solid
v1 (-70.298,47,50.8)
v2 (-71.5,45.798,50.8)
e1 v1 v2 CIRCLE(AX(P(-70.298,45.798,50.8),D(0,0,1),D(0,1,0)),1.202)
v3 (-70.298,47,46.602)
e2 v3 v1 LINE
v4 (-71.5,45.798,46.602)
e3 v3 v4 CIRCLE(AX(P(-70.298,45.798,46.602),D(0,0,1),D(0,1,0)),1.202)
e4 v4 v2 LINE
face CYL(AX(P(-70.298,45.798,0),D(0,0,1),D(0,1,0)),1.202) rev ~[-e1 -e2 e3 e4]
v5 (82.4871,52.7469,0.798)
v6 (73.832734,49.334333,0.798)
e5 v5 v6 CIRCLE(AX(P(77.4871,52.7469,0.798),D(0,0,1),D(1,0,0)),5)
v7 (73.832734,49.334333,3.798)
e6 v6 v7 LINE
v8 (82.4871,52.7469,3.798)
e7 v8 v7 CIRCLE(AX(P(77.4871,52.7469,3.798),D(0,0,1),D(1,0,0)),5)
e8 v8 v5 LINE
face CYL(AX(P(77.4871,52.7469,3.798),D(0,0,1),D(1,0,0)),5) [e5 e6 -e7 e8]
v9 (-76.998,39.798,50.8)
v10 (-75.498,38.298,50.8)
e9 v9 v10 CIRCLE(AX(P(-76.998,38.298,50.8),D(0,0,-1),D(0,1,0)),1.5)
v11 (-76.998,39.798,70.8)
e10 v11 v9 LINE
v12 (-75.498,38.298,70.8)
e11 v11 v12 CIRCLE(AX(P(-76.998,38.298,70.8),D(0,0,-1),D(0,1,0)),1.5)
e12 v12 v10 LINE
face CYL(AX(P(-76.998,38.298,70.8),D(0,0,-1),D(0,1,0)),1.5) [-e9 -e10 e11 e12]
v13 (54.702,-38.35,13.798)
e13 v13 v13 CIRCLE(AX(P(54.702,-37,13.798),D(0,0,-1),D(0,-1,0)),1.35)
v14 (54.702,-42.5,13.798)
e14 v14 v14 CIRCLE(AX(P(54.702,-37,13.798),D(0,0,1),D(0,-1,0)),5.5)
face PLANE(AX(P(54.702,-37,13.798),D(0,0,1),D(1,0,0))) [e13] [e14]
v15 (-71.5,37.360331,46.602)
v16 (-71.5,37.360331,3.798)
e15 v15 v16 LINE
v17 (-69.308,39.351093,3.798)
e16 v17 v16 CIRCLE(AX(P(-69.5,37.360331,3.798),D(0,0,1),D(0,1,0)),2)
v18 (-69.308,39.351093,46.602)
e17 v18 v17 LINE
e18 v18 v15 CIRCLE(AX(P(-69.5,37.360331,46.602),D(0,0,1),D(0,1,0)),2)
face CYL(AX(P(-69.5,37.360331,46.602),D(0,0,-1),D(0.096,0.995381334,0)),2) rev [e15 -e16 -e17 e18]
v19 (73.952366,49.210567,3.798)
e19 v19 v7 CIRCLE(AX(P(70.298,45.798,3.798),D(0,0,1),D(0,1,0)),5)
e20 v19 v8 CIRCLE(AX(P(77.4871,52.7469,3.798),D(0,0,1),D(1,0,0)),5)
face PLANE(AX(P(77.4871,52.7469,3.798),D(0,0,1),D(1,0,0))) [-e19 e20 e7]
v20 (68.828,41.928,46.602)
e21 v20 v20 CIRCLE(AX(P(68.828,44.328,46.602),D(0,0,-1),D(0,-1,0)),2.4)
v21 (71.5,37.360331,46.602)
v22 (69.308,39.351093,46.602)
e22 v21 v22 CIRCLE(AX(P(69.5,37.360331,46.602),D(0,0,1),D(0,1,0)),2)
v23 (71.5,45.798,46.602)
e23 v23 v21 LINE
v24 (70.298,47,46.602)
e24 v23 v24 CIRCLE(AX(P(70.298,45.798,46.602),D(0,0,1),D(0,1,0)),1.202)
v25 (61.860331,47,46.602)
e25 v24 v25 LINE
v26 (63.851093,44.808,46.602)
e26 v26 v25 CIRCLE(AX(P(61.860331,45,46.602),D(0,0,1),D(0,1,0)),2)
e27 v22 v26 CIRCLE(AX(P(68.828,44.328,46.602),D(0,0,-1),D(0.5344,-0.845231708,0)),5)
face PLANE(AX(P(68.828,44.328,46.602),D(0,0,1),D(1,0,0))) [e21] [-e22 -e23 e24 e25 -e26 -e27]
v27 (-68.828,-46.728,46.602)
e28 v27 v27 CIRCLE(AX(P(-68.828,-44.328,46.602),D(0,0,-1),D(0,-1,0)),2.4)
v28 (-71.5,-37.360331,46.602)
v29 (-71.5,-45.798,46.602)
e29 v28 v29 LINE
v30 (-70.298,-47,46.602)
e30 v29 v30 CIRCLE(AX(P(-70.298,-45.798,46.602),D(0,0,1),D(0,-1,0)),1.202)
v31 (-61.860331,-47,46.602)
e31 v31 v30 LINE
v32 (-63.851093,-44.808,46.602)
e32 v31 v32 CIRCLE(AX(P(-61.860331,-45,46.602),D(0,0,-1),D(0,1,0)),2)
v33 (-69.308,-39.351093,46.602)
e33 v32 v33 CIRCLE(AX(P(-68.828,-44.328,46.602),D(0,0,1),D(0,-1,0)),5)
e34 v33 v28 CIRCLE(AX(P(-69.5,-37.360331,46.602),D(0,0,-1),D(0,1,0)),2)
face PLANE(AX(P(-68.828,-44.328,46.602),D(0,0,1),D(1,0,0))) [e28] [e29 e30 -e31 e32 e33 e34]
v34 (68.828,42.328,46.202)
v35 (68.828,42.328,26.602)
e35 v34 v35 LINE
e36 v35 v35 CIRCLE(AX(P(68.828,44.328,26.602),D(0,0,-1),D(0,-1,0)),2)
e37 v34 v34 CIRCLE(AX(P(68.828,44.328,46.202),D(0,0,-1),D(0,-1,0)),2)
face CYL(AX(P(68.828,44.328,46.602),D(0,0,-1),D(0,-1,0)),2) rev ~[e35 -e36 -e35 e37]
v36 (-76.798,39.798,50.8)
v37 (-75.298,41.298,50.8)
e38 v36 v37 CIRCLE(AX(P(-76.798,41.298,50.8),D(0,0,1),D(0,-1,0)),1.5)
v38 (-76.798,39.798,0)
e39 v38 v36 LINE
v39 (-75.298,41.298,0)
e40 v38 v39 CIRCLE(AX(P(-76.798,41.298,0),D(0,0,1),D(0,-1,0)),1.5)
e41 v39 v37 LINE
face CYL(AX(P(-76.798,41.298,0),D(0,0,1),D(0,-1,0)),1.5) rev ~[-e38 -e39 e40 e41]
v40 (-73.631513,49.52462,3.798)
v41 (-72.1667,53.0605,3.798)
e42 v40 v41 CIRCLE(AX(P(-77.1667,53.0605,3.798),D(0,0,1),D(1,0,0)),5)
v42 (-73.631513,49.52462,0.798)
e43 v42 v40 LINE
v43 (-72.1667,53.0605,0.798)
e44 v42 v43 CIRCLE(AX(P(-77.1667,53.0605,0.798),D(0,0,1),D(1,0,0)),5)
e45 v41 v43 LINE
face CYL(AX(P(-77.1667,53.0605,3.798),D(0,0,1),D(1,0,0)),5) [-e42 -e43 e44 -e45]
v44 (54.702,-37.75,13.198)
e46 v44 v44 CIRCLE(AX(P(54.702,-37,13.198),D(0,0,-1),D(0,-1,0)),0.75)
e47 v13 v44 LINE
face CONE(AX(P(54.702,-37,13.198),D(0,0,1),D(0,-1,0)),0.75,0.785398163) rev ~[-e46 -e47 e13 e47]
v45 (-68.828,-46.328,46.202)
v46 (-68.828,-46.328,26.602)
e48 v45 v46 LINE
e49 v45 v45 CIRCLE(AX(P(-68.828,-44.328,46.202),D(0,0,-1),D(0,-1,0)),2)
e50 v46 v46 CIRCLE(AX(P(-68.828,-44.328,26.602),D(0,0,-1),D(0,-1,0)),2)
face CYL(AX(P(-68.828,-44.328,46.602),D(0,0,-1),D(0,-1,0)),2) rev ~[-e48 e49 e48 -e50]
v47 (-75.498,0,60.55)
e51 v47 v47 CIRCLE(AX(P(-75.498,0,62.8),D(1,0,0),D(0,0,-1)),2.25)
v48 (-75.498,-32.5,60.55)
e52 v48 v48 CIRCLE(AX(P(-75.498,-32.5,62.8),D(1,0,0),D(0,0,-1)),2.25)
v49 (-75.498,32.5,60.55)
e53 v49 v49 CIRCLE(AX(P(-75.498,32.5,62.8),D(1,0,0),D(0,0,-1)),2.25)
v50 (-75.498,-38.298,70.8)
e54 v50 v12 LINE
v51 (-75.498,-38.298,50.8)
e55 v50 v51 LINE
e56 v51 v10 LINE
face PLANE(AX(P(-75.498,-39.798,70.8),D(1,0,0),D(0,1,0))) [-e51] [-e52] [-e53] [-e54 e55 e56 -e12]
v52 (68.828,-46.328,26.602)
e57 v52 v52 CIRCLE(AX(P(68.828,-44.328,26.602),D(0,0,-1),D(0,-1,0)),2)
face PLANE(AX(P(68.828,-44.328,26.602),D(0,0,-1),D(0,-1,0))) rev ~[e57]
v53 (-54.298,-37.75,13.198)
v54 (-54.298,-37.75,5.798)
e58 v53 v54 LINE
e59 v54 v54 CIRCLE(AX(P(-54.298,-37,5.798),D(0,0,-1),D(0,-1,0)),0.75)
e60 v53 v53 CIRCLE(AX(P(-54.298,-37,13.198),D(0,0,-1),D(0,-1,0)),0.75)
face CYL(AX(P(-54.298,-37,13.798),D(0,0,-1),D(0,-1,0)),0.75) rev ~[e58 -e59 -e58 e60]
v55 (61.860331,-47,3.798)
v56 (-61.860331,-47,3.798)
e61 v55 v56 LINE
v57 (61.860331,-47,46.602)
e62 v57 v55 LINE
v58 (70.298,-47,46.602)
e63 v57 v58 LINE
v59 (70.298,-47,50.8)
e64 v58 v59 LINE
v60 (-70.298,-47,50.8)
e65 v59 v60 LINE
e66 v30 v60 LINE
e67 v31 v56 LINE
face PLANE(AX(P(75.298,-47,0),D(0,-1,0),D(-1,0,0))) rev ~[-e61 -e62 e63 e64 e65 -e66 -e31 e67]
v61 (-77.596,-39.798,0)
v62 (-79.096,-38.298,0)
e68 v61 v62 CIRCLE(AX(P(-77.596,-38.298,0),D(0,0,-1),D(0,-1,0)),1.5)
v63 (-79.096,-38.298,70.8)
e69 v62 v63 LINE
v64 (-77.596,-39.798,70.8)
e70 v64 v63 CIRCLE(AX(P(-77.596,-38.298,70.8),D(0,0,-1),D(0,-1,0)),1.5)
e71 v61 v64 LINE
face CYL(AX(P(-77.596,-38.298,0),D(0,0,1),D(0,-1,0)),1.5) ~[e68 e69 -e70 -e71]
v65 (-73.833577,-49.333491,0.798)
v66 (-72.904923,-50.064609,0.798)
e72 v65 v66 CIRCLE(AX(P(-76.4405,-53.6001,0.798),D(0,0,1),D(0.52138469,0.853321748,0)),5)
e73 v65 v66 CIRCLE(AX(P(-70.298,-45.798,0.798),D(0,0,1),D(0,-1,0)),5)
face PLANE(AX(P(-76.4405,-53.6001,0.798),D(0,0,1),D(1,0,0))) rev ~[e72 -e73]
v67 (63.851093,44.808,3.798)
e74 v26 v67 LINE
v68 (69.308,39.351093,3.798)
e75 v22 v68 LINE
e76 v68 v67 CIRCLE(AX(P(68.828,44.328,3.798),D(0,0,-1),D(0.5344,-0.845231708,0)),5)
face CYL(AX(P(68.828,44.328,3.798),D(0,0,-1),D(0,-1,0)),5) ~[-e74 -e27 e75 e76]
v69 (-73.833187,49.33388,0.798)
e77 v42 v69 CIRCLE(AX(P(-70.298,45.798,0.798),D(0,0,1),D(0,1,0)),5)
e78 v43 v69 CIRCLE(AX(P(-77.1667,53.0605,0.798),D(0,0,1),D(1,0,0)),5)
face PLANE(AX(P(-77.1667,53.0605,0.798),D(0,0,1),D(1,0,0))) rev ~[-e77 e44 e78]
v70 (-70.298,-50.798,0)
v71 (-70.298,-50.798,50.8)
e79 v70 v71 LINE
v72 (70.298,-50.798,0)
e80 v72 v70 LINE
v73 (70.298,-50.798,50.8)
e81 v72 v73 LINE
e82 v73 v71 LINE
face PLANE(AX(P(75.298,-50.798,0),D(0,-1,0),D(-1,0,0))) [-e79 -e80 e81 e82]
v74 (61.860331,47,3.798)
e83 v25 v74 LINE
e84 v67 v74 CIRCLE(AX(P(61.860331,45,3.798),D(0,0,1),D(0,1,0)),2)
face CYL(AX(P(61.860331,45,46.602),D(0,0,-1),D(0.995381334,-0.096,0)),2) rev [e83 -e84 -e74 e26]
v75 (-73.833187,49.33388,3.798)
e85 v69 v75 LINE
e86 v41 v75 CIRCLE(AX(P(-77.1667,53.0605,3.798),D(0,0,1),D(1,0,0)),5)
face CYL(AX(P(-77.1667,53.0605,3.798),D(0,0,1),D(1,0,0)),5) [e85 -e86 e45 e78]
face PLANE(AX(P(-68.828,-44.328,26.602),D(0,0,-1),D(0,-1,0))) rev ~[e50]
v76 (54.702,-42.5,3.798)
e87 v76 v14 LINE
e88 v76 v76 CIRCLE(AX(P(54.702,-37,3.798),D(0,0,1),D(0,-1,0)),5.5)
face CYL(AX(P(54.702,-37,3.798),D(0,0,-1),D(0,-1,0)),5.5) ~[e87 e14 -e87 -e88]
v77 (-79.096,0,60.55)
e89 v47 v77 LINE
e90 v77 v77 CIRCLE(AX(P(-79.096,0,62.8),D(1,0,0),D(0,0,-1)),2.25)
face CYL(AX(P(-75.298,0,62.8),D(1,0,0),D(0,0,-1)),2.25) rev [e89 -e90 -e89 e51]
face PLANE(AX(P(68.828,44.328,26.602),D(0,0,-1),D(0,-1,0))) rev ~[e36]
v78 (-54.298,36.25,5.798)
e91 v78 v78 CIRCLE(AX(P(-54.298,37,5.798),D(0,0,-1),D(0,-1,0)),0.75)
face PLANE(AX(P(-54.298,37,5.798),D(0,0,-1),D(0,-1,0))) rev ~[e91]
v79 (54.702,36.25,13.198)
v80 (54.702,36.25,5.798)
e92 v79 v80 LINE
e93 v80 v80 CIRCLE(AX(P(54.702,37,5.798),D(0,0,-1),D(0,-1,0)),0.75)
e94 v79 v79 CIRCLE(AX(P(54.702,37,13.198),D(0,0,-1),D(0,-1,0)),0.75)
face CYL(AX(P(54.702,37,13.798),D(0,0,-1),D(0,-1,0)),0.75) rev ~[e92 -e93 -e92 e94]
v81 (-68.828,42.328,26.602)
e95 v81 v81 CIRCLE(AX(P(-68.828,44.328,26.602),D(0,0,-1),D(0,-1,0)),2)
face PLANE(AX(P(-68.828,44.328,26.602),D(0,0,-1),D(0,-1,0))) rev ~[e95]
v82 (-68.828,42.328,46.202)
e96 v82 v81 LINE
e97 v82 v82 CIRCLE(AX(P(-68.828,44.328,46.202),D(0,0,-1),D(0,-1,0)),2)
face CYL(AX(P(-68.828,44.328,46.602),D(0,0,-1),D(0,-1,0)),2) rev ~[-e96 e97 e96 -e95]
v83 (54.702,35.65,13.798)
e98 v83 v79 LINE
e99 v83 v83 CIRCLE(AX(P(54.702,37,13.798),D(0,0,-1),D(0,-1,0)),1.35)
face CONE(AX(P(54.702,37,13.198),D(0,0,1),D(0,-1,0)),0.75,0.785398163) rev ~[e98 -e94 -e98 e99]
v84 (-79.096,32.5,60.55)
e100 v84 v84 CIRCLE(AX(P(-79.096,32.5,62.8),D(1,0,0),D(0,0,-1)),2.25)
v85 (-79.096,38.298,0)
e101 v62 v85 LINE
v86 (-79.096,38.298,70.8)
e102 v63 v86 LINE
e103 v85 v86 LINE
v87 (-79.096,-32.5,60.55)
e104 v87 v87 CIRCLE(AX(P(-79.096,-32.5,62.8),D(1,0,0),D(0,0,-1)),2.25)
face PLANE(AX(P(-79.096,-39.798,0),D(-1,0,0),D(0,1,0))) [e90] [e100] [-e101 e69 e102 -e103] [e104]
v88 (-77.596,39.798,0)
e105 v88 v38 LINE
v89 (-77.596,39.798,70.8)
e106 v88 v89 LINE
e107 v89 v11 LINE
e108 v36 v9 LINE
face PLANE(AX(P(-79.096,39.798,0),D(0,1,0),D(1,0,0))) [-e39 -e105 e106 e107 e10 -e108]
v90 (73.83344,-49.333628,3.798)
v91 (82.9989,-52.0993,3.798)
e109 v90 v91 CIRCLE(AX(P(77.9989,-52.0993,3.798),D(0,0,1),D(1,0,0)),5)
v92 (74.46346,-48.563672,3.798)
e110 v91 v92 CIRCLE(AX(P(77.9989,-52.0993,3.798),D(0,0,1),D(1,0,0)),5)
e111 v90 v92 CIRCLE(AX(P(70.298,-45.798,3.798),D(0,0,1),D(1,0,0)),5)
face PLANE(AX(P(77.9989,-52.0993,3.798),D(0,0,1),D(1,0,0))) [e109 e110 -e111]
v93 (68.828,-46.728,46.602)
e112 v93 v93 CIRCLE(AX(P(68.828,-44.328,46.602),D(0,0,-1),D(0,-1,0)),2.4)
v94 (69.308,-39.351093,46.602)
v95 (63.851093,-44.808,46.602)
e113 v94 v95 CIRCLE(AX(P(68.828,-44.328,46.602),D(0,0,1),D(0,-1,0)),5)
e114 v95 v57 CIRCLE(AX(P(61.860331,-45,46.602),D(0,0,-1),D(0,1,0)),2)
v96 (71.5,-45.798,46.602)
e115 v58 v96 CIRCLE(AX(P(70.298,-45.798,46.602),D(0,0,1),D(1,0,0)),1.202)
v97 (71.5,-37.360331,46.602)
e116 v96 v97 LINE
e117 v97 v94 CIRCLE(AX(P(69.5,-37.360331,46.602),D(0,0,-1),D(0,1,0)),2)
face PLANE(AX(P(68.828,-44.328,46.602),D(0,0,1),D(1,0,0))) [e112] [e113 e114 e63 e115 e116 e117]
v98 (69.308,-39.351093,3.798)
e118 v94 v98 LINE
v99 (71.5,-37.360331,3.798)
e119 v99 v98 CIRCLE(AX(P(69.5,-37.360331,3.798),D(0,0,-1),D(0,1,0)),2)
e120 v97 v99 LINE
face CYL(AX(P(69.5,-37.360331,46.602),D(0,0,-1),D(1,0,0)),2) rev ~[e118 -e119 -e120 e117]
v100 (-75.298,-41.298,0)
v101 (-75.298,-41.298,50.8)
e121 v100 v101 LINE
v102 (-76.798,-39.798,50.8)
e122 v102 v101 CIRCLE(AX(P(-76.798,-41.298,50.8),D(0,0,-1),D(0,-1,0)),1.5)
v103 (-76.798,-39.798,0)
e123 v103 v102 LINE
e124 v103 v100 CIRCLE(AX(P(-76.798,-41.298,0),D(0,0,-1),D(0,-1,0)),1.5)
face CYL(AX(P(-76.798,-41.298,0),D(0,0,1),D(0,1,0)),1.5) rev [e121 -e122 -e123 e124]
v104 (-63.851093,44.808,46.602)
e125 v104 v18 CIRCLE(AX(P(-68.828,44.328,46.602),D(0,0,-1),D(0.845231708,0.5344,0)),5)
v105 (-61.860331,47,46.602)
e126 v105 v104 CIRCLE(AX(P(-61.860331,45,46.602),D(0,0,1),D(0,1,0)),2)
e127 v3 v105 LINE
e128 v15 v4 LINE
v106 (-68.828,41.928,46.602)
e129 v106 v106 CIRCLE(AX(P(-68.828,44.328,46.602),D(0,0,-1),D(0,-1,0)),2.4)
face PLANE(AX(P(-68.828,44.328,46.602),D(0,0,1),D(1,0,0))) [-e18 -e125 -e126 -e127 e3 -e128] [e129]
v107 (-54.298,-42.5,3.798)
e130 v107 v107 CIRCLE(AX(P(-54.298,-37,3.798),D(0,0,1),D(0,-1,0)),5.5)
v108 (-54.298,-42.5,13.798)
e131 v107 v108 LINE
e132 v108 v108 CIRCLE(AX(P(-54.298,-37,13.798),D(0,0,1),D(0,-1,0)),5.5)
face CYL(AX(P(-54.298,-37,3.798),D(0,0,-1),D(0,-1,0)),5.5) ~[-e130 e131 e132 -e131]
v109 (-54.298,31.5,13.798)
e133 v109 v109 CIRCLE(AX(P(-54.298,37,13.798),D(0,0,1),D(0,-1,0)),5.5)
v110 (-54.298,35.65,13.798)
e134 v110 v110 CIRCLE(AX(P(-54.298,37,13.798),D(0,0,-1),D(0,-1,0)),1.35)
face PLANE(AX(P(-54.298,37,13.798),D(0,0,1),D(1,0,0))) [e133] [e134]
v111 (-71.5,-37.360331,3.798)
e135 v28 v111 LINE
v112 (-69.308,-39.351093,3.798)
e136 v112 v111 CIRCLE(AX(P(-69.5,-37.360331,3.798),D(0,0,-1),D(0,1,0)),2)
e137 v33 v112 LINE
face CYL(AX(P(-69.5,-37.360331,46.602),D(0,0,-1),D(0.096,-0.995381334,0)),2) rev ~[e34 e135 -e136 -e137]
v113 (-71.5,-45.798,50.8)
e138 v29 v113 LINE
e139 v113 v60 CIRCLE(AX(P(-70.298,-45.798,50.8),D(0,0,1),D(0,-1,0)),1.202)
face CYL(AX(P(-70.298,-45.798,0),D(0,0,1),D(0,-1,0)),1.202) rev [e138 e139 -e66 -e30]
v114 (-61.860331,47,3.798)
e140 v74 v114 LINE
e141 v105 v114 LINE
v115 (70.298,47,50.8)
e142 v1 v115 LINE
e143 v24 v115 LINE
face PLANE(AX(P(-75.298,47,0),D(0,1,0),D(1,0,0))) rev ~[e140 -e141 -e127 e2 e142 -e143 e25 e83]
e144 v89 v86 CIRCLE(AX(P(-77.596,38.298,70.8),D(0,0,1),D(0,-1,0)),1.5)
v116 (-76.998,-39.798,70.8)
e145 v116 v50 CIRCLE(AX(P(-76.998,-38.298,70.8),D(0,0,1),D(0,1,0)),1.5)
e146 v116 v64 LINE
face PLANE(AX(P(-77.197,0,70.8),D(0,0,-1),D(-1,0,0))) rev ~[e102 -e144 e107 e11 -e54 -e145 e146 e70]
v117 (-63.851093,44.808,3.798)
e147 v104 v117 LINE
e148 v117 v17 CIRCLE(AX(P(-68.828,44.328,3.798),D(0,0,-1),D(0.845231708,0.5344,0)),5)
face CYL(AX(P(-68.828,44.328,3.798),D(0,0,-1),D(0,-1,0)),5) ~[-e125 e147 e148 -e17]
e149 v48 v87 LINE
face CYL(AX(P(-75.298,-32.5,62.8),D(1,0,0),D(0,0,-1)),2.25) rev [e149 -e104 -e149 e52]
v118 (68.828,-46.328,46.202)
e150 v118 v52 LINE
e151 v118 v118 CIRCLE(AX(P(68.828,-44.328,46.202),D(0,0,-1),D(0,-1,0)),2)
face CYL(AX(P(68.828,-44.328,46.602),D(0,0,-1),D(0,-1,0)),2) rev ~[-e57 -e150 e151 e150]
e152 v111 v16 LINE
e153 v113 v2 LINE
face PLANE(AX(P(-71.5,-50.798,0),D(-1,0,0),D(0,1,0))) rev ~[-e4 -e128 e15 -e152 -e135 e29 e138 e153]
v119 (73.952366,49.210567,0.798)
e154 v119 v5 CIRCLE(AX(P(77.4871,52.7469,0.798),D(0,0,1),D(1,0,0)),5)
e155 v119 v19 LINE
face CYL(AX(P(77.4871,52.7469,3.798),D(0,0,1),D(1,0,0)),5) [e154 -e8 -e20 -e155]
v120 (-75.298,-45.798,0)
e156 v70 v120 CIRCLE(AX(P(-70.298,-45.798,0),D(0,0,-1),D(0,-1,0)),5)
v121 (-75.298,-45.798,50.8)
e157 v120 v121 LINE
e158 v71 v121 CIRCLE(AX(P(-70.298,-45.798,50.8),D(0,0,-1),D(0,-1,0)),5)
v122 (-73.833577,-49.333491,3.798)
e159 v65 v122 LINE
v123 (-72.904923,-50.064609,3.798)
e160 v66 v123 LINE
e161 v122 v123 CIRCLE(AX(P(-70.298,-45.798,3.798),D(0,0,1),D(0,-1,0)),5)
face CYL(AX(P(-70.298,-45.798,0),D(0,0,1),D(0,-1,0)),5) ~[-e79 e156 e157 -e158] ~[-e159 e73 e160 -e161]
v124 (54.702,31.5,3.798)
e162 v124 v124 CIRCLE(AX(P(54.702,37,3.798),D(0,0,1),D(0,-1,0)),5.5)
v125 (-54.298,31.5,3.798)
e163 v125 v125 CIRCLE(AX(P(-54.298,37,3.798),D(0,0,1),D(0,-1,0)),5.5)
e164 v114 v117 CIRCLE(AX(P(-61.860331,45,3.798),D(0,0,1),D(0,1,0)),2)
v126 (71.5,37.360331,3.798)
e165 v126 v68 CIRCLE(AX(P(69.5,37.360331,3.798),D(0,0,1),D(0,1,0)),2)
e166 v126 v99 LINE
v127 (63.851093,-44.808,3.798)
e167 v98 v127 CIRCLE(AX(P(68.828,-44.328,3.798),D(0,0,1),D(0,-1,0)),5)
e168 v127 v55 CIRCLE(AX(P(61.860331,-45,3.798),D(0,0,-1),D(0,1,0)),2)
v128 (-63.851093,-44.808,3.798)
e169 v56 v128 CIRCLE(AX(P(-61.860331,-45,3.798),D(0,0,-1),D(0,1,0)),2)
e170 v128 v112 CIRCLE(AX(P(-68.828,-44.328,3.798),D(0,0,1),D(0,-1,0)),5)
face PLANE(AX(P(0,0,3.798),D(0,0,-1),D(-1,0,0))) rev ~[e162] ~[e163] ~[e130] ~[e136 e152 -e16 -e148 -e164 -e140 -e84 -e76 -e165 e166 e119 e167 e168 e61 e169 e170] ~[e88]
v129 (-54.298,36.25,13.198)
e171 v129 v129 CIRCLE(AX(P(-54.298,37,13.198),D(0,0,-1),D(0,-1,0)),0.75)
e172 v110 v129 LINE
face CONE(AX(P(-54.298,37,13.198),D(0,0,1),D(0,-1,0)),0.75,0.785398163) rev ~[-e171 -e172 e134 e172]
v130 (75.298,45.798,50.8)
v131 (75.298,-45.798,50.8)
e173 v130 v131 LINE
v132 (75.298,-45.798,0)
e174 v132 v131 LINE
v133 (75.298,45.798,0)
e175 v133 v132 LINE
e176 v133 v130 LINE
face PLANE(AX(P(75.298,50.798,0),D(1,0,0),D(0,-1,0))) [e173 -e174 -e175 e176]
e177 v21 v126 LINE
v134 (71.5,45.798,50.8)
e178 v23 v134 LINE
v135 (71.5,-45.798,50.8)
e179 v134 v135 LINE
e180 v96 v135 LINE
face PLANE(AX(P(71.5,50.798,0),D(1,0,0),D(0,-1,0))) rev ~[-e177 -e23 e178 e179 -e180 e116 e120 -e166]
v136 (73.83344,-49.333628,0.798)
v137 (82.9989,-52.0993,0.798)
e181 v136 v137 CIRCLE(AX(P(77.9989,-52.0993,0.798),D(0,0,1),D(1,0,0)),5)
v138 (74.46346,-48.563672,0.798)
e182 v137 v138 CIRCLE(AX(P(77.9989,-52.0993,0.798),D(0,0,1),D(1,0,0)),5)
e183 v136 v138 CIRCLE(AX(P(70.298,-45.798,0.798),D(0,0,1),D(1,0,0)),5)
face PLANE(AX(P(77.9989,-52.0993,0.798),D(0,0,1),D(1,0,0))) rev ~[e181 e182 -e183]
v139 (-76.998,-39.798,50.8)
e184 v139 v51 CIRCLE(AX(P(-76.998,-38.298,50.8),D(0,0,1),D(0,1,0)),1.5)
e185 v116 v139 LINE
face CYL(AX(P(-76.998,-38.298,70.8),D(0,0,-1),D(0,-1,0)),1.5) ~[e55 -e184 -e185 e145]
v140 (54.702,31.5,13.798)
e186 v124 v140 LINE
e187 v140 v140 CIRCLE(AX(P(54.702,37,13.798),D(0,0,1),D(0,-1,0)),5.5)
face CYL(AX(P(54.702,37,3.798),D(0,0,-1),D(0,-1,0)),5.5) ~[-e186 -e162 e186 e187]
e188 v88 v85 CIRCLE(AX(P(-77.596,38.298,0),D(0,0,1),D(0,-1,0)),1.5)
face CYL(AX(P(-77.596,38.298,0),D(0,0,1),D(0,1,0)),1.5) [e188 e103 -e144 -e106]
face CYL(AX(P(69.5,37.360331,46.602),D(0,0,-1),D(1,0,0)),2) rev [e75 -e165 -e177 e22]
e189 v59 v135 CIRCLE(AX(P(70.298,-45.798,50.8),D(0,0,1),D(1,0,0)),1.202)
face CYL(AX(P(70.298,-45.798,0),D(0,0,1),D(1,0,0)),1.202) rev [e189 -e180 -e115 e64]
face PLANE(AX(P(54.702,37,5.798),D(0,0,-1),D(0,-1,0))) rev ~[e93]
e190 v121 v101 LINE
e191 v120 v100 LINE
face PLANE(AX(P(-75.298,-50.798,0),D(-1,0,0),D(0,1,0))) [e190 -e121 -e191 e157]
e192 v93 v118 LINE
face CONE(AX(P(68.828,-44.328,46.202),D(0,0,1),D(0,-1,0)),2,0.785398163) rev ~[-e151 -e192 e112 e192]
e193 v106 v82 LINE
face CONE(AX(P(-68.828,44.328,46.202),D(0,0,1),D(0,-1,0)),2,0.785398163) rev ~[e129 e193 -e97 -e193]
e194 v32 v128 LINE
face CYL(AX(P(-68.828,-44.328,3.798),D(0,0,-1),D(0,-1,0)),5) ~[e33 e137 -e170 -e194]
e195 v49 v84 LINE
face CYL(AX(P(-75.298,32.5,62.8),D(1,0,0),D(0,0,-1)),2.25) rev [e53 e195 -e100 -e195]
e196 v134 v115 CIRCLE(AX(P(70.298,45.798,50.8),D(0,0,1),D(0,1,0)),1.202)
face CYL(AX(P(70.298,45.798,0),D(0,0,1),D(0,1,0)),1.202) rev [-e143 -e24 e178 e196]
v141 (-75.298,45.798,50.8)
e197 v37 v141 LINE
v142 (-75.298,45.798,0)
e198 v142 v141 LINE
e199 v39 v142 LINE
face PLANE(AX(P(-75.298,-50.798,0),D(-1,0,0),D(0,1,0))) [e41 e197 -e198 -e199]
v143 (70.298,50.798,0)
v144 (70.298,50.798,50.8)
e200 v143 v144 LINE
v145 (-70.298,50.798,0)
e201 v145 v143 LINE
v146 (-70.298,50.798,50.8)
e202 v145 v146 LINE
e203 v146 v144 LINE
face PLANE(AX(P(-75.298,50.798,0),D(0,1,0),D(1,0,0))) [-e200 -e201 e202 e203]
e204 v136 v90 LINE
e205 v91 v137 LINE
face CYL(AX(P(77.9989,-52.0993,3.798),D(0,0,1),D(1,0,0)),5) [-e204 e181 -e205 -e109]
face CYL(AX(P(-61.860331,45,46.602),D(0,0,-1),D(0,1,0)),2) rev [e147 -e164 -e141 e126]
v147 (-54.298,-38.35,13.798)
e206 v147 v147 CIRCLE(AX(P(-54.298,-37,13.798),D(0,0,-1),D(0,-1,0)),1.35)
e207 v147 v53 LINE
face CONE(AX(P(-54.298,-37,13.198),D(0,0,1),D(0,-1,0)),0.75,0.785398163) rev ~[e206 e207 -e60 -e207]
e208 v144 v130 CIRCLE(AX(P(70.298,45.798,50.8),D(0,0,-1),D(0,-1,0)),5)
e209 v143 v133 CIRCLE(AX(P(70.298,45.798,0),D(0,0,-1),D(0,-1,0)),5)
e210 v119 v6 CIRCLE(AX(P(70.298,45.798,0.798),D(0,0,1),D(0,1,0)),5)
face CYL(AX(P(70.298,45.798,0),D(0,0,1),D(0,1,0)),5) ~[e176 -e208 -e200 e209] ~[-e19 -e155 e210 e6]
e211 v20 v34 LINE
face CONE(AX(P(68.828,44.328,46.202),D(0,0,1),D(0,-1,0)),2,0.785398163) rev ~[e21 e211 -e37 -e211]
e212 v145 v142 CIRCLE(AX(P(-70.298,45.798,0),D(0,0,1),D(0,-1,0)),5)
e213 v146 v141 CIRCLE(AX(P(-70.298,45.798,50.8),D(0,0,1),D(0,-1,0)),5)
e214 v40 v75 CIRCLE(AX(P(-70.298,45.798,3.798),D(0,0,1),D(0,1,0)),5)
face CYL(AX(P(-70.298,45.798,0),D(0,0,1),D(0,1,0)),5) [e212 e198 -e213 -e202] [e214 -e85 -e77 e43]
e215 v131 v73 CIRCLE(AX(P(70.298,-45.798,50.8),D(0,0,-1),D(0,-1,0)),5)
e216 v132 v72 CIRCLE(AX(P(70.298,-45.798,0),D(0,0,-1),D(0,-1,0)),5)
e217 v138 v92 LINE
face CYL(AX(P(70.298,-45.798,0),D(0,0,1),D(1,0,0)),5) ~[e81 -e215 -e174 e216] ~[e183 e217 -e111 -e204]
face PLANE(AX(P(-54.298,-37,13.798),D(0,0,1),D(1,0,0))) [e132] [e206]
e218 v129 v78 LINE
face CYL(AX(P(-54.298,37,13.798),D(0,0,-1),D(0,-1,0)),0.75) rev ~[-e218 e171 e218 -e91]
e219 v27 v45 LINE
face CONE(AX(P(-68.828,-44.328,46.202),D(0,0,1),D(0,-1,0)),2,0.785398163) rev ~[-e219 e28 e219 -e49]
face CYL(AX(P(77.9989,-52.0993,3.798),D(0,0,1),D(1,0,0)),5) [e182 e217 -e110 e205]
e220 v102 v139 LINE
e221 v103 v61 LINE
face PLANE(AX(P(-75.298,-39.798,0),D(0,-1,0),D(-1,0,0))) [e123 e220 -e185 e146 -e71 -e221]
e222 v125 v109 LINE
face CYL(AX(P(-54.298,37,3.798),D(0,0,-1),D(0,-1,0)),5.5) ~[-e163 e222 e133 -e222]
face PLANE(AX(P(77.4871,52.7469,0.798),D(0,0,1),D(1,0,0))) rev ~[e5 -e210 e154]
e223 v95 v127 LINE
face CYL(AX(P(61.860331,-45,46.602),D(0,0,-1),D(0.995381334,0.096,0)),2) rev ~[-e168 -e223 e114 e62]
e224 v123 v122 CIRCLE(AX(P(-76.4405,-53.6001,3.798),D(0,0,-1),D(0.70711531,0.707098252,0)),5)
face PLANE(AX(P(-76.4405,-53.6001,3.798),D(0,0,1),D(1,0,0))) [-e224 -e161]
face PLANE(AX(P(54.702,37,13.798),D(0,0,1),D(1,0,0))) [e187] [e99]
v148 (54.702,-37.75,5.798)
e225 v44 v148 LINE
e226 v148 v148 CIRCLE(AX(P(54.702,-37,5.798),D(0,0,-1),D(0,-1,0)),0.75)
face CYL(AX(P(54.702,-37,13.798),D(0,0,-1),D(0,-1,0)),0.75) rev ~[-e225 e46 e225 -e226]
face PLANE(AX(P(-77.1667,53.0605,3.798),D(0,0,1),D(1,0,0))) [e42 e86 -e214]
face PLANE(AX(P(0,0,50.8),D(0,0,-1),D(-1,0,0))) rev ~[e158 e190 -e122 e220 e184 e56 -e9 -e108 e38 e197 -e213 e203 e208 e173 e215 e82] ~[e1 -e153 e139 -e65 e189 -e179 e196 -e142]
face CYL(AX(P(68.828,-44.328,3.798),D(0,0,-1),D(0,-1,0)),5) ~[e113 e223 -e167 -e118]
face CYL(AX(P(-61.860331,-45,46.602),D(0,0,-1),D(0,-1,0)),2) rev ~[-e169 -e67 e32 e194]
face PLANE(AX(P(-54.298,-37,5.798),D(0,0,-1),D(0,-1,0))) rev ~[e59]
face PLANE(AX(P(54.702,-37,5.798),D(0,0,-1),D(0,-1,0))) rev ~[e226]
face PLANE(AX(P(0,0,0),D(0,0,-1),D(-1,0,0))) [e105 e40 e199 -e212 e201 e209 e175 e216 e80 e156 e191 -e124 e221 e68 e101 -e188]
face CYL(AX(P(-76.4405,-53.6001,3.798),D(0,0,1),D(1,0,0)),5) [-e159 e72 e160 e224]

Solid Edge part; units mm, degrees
sketch "Sketch1" plane through (0, 0, 0) normal (0, 0, 1) x (1, 0, 0)
  line L0 (-75.298, 50.798) -> (75.298, 50.798)
  line L1 (75.298, 50.798) -> (75.298, -50.798)
  line L2 (75.298, -50.798) -> (-75.298, -50.798)
  line L3 (-75.298, -50.798) -> (-75.298, 50.798)
  dimension "D1" = 101.596
  dimension "D2" = 150.596
extrude "Basiskörper" add sketch "Sketch1" along normal blind 50.8
fillet "Round1" radius 5 4 edges at (75.298, 50.798, 25.4) (75.298, -50.798, 25.4) (-75.298, -50.798, 25.4) (-75.298, 50.798, 25.4)
shell "Thinwall1" thickness 3.798 removed faces 1 at (51.7046, -32.8494, 50.8)
sketch "Sketch2" plane through (0, 0, 3.798) normal (0, 0, 1) x (0, -1, 0)
  circle A0 centre (37, 54.702) radius 5.5
  circle A1 centre (37, -54.298) radius 5.5
  circle A2 centre (-37, -54.298) radius 5.5
  circle A3 centre (-37, 54.702) radius 5.5
  dimension "D1" = 11
  dimension "D2" = 74
  dimension "D3" = 109
  dimension "D4" = 16
  dimension "D5" = 10
extrude "Protrusion1" add sketch "Sketch2" along normal blind 10
hole "Hole1" at (54.702, 37, 13.798) direction (0, 0, -1) diameter 1.5 depth 8 start chamfer 0.6 start chamfer angle 45
hole "Hole2" at (54.702, -37, 13.798) direction (0, 0, -1) diameter 1.5 depth 8 start chamfer 0.6 start chamfer angle 45
hole "Hole3" at (-54.298, 37, 13.798) direction (0, 0, -1) diameter 1.5 depth 8 start chamfer 0.6 start chamfer angle 45
hole "Hole4" at (-54.298, -37, 13.798) direction (0, 0, -1) diameter 1.5 depth 8 start chamfer 0.6 start chamfer angle 45
sketch "Sketch3" plane through (0, 0, 3.798) normal (0, 0, 1) x (0, -1, 0)
  circle A0 centre (44.328, 68.828) radius 5
  circle A1 centre (44.328, -68.828) radius 5
  circle A2 centre (-44.328, -68.828) radius 5
  circle A3 centre (-44.328, 68.828) radius 5
  dimension "D1" = 6.47
  dimension "D2" = 6.47
  dimension "D3" = 6.47
  dimension "D4" = 95.126
  dimension "D5" = 6.47
  dimension "D6" = 144.126
extrude "Protrusion2" add sketch "Sketch3" along normal blind 42.804
hole "Hole5" at (68.828, 44.328, 46.602) direction (0, 0, -1) diameter 4 depth 20 start chamfer 0.4 start chamfer angle 45
hole "Hole6" at (-68.828, -44.328, 46.602) direction (0, 0, -1) diameter 4 depth 20 start chamfer 0.4 start chamfer angle 45
hole "Hole7" at (-68.828, 44.328, 46.602) direction (0, 0, -1) diameter 4 depth 20 start chamfer 0.4 start chamfer angle 45
hole "Hole8" at (68.828, -44.328, 46.602) direction (0, 0, -1) diameter 4 depth 20 start chamfer 0.4 start chamfer angle 45
fillet "Round2" radius 2 8 edges at (71.5, 40.1018, 25.2) (64.6018, 47, 25.2) (71.5, -40.1018, 25.2) (64.6018, -47, 25.2) (-64.6018, 47, 25.2) (-71.5, 40.1018, 25.2) (-71.5, -40.1018, 25.2) (-64.6018, -47, 25.2)
sketch "Sketch4" plane through (0, 0, 0) normal (0, 0, -1) x (1, 0, 0)
  line L0 (-75.298, 39.798) -> (-79.096, 39.798)
  line L1 (-79.096, 39.798) -> (-79.096, -39.798)
  line L2 (-79.096, -39.798) -> (-75.298, -39.798)
  line L3 (-75.298, -39.798) -> (-75.298, 39.798)
  dimension "D1" = 3.798
  dimension "D2" = 79.596
extrude "Protrusion3" add sketch "Sketch4" against normal blind 70.8
sketch "Sketch5" plane through (-70.197, 0, 70.8) normal (0, 0, 1) x (0, -1, 0)
  line L0 (-39.798, -5.101) -> (39.798, -5.101)
  line L1 (39.798, -5.101) -> (39.798, -5.301)
  line L2 (39.798, -5.301) -> (-39.798, -5.301)
  line L3 (-39.798, -5.301) -> (-39.798, -5.101)
  dimension "D1" = 0.2
extrude "Cutout1" cut sketch "Sketch5" against normal blind 20
fillet "VerrundungStänderAussen" radius 1.5 2 edges at (-79.096, -39.798, 35.4) (-79.096, 39.798, 35.4)
hole "Ständer_Löcher_Bohrung" at (-75.298, 32.5, 62.8) direction (-1, 0, 0) diameter 4.5 end up to next
hole "Hole9" at (-75.298, 0, 62.8) direction (-1, 0, 0) diameter 4.5 end up to next
hole "Hole10" at (-75.298, -32.5, 62.8) direction (-1, 0, 0) diameter 4.5 end up to next
fillet "Round3" radius 1.5 2 edges at (-75.498, -39.798, 60.8) (-75.498, 39.798, 60.8)
fillet "VerrundungStänderansatz" radius 1.5 2 edges at (-75.298, -39.798, 25.4) (-75.298, 39.798, 25.4)
sketch "Sketch6" plane through (0, 0, 3.798) normal (0, 0, 1) x (1, 0, 0)
  circle A0 centre (-77.1667, 53.0605) radius 5
  circle A1 centre (77.4871, 52.7469) radius 5
  circle A2 centre (77.9989, -52.0993) radius 5
  circle A3 centre (-76.4405, -53.6001) radius 5
  dimension "D1" = 10
extrude "DruckStabilisatoren" add sketch "Sketch6" against normal blind 3
properties material "ASA"
